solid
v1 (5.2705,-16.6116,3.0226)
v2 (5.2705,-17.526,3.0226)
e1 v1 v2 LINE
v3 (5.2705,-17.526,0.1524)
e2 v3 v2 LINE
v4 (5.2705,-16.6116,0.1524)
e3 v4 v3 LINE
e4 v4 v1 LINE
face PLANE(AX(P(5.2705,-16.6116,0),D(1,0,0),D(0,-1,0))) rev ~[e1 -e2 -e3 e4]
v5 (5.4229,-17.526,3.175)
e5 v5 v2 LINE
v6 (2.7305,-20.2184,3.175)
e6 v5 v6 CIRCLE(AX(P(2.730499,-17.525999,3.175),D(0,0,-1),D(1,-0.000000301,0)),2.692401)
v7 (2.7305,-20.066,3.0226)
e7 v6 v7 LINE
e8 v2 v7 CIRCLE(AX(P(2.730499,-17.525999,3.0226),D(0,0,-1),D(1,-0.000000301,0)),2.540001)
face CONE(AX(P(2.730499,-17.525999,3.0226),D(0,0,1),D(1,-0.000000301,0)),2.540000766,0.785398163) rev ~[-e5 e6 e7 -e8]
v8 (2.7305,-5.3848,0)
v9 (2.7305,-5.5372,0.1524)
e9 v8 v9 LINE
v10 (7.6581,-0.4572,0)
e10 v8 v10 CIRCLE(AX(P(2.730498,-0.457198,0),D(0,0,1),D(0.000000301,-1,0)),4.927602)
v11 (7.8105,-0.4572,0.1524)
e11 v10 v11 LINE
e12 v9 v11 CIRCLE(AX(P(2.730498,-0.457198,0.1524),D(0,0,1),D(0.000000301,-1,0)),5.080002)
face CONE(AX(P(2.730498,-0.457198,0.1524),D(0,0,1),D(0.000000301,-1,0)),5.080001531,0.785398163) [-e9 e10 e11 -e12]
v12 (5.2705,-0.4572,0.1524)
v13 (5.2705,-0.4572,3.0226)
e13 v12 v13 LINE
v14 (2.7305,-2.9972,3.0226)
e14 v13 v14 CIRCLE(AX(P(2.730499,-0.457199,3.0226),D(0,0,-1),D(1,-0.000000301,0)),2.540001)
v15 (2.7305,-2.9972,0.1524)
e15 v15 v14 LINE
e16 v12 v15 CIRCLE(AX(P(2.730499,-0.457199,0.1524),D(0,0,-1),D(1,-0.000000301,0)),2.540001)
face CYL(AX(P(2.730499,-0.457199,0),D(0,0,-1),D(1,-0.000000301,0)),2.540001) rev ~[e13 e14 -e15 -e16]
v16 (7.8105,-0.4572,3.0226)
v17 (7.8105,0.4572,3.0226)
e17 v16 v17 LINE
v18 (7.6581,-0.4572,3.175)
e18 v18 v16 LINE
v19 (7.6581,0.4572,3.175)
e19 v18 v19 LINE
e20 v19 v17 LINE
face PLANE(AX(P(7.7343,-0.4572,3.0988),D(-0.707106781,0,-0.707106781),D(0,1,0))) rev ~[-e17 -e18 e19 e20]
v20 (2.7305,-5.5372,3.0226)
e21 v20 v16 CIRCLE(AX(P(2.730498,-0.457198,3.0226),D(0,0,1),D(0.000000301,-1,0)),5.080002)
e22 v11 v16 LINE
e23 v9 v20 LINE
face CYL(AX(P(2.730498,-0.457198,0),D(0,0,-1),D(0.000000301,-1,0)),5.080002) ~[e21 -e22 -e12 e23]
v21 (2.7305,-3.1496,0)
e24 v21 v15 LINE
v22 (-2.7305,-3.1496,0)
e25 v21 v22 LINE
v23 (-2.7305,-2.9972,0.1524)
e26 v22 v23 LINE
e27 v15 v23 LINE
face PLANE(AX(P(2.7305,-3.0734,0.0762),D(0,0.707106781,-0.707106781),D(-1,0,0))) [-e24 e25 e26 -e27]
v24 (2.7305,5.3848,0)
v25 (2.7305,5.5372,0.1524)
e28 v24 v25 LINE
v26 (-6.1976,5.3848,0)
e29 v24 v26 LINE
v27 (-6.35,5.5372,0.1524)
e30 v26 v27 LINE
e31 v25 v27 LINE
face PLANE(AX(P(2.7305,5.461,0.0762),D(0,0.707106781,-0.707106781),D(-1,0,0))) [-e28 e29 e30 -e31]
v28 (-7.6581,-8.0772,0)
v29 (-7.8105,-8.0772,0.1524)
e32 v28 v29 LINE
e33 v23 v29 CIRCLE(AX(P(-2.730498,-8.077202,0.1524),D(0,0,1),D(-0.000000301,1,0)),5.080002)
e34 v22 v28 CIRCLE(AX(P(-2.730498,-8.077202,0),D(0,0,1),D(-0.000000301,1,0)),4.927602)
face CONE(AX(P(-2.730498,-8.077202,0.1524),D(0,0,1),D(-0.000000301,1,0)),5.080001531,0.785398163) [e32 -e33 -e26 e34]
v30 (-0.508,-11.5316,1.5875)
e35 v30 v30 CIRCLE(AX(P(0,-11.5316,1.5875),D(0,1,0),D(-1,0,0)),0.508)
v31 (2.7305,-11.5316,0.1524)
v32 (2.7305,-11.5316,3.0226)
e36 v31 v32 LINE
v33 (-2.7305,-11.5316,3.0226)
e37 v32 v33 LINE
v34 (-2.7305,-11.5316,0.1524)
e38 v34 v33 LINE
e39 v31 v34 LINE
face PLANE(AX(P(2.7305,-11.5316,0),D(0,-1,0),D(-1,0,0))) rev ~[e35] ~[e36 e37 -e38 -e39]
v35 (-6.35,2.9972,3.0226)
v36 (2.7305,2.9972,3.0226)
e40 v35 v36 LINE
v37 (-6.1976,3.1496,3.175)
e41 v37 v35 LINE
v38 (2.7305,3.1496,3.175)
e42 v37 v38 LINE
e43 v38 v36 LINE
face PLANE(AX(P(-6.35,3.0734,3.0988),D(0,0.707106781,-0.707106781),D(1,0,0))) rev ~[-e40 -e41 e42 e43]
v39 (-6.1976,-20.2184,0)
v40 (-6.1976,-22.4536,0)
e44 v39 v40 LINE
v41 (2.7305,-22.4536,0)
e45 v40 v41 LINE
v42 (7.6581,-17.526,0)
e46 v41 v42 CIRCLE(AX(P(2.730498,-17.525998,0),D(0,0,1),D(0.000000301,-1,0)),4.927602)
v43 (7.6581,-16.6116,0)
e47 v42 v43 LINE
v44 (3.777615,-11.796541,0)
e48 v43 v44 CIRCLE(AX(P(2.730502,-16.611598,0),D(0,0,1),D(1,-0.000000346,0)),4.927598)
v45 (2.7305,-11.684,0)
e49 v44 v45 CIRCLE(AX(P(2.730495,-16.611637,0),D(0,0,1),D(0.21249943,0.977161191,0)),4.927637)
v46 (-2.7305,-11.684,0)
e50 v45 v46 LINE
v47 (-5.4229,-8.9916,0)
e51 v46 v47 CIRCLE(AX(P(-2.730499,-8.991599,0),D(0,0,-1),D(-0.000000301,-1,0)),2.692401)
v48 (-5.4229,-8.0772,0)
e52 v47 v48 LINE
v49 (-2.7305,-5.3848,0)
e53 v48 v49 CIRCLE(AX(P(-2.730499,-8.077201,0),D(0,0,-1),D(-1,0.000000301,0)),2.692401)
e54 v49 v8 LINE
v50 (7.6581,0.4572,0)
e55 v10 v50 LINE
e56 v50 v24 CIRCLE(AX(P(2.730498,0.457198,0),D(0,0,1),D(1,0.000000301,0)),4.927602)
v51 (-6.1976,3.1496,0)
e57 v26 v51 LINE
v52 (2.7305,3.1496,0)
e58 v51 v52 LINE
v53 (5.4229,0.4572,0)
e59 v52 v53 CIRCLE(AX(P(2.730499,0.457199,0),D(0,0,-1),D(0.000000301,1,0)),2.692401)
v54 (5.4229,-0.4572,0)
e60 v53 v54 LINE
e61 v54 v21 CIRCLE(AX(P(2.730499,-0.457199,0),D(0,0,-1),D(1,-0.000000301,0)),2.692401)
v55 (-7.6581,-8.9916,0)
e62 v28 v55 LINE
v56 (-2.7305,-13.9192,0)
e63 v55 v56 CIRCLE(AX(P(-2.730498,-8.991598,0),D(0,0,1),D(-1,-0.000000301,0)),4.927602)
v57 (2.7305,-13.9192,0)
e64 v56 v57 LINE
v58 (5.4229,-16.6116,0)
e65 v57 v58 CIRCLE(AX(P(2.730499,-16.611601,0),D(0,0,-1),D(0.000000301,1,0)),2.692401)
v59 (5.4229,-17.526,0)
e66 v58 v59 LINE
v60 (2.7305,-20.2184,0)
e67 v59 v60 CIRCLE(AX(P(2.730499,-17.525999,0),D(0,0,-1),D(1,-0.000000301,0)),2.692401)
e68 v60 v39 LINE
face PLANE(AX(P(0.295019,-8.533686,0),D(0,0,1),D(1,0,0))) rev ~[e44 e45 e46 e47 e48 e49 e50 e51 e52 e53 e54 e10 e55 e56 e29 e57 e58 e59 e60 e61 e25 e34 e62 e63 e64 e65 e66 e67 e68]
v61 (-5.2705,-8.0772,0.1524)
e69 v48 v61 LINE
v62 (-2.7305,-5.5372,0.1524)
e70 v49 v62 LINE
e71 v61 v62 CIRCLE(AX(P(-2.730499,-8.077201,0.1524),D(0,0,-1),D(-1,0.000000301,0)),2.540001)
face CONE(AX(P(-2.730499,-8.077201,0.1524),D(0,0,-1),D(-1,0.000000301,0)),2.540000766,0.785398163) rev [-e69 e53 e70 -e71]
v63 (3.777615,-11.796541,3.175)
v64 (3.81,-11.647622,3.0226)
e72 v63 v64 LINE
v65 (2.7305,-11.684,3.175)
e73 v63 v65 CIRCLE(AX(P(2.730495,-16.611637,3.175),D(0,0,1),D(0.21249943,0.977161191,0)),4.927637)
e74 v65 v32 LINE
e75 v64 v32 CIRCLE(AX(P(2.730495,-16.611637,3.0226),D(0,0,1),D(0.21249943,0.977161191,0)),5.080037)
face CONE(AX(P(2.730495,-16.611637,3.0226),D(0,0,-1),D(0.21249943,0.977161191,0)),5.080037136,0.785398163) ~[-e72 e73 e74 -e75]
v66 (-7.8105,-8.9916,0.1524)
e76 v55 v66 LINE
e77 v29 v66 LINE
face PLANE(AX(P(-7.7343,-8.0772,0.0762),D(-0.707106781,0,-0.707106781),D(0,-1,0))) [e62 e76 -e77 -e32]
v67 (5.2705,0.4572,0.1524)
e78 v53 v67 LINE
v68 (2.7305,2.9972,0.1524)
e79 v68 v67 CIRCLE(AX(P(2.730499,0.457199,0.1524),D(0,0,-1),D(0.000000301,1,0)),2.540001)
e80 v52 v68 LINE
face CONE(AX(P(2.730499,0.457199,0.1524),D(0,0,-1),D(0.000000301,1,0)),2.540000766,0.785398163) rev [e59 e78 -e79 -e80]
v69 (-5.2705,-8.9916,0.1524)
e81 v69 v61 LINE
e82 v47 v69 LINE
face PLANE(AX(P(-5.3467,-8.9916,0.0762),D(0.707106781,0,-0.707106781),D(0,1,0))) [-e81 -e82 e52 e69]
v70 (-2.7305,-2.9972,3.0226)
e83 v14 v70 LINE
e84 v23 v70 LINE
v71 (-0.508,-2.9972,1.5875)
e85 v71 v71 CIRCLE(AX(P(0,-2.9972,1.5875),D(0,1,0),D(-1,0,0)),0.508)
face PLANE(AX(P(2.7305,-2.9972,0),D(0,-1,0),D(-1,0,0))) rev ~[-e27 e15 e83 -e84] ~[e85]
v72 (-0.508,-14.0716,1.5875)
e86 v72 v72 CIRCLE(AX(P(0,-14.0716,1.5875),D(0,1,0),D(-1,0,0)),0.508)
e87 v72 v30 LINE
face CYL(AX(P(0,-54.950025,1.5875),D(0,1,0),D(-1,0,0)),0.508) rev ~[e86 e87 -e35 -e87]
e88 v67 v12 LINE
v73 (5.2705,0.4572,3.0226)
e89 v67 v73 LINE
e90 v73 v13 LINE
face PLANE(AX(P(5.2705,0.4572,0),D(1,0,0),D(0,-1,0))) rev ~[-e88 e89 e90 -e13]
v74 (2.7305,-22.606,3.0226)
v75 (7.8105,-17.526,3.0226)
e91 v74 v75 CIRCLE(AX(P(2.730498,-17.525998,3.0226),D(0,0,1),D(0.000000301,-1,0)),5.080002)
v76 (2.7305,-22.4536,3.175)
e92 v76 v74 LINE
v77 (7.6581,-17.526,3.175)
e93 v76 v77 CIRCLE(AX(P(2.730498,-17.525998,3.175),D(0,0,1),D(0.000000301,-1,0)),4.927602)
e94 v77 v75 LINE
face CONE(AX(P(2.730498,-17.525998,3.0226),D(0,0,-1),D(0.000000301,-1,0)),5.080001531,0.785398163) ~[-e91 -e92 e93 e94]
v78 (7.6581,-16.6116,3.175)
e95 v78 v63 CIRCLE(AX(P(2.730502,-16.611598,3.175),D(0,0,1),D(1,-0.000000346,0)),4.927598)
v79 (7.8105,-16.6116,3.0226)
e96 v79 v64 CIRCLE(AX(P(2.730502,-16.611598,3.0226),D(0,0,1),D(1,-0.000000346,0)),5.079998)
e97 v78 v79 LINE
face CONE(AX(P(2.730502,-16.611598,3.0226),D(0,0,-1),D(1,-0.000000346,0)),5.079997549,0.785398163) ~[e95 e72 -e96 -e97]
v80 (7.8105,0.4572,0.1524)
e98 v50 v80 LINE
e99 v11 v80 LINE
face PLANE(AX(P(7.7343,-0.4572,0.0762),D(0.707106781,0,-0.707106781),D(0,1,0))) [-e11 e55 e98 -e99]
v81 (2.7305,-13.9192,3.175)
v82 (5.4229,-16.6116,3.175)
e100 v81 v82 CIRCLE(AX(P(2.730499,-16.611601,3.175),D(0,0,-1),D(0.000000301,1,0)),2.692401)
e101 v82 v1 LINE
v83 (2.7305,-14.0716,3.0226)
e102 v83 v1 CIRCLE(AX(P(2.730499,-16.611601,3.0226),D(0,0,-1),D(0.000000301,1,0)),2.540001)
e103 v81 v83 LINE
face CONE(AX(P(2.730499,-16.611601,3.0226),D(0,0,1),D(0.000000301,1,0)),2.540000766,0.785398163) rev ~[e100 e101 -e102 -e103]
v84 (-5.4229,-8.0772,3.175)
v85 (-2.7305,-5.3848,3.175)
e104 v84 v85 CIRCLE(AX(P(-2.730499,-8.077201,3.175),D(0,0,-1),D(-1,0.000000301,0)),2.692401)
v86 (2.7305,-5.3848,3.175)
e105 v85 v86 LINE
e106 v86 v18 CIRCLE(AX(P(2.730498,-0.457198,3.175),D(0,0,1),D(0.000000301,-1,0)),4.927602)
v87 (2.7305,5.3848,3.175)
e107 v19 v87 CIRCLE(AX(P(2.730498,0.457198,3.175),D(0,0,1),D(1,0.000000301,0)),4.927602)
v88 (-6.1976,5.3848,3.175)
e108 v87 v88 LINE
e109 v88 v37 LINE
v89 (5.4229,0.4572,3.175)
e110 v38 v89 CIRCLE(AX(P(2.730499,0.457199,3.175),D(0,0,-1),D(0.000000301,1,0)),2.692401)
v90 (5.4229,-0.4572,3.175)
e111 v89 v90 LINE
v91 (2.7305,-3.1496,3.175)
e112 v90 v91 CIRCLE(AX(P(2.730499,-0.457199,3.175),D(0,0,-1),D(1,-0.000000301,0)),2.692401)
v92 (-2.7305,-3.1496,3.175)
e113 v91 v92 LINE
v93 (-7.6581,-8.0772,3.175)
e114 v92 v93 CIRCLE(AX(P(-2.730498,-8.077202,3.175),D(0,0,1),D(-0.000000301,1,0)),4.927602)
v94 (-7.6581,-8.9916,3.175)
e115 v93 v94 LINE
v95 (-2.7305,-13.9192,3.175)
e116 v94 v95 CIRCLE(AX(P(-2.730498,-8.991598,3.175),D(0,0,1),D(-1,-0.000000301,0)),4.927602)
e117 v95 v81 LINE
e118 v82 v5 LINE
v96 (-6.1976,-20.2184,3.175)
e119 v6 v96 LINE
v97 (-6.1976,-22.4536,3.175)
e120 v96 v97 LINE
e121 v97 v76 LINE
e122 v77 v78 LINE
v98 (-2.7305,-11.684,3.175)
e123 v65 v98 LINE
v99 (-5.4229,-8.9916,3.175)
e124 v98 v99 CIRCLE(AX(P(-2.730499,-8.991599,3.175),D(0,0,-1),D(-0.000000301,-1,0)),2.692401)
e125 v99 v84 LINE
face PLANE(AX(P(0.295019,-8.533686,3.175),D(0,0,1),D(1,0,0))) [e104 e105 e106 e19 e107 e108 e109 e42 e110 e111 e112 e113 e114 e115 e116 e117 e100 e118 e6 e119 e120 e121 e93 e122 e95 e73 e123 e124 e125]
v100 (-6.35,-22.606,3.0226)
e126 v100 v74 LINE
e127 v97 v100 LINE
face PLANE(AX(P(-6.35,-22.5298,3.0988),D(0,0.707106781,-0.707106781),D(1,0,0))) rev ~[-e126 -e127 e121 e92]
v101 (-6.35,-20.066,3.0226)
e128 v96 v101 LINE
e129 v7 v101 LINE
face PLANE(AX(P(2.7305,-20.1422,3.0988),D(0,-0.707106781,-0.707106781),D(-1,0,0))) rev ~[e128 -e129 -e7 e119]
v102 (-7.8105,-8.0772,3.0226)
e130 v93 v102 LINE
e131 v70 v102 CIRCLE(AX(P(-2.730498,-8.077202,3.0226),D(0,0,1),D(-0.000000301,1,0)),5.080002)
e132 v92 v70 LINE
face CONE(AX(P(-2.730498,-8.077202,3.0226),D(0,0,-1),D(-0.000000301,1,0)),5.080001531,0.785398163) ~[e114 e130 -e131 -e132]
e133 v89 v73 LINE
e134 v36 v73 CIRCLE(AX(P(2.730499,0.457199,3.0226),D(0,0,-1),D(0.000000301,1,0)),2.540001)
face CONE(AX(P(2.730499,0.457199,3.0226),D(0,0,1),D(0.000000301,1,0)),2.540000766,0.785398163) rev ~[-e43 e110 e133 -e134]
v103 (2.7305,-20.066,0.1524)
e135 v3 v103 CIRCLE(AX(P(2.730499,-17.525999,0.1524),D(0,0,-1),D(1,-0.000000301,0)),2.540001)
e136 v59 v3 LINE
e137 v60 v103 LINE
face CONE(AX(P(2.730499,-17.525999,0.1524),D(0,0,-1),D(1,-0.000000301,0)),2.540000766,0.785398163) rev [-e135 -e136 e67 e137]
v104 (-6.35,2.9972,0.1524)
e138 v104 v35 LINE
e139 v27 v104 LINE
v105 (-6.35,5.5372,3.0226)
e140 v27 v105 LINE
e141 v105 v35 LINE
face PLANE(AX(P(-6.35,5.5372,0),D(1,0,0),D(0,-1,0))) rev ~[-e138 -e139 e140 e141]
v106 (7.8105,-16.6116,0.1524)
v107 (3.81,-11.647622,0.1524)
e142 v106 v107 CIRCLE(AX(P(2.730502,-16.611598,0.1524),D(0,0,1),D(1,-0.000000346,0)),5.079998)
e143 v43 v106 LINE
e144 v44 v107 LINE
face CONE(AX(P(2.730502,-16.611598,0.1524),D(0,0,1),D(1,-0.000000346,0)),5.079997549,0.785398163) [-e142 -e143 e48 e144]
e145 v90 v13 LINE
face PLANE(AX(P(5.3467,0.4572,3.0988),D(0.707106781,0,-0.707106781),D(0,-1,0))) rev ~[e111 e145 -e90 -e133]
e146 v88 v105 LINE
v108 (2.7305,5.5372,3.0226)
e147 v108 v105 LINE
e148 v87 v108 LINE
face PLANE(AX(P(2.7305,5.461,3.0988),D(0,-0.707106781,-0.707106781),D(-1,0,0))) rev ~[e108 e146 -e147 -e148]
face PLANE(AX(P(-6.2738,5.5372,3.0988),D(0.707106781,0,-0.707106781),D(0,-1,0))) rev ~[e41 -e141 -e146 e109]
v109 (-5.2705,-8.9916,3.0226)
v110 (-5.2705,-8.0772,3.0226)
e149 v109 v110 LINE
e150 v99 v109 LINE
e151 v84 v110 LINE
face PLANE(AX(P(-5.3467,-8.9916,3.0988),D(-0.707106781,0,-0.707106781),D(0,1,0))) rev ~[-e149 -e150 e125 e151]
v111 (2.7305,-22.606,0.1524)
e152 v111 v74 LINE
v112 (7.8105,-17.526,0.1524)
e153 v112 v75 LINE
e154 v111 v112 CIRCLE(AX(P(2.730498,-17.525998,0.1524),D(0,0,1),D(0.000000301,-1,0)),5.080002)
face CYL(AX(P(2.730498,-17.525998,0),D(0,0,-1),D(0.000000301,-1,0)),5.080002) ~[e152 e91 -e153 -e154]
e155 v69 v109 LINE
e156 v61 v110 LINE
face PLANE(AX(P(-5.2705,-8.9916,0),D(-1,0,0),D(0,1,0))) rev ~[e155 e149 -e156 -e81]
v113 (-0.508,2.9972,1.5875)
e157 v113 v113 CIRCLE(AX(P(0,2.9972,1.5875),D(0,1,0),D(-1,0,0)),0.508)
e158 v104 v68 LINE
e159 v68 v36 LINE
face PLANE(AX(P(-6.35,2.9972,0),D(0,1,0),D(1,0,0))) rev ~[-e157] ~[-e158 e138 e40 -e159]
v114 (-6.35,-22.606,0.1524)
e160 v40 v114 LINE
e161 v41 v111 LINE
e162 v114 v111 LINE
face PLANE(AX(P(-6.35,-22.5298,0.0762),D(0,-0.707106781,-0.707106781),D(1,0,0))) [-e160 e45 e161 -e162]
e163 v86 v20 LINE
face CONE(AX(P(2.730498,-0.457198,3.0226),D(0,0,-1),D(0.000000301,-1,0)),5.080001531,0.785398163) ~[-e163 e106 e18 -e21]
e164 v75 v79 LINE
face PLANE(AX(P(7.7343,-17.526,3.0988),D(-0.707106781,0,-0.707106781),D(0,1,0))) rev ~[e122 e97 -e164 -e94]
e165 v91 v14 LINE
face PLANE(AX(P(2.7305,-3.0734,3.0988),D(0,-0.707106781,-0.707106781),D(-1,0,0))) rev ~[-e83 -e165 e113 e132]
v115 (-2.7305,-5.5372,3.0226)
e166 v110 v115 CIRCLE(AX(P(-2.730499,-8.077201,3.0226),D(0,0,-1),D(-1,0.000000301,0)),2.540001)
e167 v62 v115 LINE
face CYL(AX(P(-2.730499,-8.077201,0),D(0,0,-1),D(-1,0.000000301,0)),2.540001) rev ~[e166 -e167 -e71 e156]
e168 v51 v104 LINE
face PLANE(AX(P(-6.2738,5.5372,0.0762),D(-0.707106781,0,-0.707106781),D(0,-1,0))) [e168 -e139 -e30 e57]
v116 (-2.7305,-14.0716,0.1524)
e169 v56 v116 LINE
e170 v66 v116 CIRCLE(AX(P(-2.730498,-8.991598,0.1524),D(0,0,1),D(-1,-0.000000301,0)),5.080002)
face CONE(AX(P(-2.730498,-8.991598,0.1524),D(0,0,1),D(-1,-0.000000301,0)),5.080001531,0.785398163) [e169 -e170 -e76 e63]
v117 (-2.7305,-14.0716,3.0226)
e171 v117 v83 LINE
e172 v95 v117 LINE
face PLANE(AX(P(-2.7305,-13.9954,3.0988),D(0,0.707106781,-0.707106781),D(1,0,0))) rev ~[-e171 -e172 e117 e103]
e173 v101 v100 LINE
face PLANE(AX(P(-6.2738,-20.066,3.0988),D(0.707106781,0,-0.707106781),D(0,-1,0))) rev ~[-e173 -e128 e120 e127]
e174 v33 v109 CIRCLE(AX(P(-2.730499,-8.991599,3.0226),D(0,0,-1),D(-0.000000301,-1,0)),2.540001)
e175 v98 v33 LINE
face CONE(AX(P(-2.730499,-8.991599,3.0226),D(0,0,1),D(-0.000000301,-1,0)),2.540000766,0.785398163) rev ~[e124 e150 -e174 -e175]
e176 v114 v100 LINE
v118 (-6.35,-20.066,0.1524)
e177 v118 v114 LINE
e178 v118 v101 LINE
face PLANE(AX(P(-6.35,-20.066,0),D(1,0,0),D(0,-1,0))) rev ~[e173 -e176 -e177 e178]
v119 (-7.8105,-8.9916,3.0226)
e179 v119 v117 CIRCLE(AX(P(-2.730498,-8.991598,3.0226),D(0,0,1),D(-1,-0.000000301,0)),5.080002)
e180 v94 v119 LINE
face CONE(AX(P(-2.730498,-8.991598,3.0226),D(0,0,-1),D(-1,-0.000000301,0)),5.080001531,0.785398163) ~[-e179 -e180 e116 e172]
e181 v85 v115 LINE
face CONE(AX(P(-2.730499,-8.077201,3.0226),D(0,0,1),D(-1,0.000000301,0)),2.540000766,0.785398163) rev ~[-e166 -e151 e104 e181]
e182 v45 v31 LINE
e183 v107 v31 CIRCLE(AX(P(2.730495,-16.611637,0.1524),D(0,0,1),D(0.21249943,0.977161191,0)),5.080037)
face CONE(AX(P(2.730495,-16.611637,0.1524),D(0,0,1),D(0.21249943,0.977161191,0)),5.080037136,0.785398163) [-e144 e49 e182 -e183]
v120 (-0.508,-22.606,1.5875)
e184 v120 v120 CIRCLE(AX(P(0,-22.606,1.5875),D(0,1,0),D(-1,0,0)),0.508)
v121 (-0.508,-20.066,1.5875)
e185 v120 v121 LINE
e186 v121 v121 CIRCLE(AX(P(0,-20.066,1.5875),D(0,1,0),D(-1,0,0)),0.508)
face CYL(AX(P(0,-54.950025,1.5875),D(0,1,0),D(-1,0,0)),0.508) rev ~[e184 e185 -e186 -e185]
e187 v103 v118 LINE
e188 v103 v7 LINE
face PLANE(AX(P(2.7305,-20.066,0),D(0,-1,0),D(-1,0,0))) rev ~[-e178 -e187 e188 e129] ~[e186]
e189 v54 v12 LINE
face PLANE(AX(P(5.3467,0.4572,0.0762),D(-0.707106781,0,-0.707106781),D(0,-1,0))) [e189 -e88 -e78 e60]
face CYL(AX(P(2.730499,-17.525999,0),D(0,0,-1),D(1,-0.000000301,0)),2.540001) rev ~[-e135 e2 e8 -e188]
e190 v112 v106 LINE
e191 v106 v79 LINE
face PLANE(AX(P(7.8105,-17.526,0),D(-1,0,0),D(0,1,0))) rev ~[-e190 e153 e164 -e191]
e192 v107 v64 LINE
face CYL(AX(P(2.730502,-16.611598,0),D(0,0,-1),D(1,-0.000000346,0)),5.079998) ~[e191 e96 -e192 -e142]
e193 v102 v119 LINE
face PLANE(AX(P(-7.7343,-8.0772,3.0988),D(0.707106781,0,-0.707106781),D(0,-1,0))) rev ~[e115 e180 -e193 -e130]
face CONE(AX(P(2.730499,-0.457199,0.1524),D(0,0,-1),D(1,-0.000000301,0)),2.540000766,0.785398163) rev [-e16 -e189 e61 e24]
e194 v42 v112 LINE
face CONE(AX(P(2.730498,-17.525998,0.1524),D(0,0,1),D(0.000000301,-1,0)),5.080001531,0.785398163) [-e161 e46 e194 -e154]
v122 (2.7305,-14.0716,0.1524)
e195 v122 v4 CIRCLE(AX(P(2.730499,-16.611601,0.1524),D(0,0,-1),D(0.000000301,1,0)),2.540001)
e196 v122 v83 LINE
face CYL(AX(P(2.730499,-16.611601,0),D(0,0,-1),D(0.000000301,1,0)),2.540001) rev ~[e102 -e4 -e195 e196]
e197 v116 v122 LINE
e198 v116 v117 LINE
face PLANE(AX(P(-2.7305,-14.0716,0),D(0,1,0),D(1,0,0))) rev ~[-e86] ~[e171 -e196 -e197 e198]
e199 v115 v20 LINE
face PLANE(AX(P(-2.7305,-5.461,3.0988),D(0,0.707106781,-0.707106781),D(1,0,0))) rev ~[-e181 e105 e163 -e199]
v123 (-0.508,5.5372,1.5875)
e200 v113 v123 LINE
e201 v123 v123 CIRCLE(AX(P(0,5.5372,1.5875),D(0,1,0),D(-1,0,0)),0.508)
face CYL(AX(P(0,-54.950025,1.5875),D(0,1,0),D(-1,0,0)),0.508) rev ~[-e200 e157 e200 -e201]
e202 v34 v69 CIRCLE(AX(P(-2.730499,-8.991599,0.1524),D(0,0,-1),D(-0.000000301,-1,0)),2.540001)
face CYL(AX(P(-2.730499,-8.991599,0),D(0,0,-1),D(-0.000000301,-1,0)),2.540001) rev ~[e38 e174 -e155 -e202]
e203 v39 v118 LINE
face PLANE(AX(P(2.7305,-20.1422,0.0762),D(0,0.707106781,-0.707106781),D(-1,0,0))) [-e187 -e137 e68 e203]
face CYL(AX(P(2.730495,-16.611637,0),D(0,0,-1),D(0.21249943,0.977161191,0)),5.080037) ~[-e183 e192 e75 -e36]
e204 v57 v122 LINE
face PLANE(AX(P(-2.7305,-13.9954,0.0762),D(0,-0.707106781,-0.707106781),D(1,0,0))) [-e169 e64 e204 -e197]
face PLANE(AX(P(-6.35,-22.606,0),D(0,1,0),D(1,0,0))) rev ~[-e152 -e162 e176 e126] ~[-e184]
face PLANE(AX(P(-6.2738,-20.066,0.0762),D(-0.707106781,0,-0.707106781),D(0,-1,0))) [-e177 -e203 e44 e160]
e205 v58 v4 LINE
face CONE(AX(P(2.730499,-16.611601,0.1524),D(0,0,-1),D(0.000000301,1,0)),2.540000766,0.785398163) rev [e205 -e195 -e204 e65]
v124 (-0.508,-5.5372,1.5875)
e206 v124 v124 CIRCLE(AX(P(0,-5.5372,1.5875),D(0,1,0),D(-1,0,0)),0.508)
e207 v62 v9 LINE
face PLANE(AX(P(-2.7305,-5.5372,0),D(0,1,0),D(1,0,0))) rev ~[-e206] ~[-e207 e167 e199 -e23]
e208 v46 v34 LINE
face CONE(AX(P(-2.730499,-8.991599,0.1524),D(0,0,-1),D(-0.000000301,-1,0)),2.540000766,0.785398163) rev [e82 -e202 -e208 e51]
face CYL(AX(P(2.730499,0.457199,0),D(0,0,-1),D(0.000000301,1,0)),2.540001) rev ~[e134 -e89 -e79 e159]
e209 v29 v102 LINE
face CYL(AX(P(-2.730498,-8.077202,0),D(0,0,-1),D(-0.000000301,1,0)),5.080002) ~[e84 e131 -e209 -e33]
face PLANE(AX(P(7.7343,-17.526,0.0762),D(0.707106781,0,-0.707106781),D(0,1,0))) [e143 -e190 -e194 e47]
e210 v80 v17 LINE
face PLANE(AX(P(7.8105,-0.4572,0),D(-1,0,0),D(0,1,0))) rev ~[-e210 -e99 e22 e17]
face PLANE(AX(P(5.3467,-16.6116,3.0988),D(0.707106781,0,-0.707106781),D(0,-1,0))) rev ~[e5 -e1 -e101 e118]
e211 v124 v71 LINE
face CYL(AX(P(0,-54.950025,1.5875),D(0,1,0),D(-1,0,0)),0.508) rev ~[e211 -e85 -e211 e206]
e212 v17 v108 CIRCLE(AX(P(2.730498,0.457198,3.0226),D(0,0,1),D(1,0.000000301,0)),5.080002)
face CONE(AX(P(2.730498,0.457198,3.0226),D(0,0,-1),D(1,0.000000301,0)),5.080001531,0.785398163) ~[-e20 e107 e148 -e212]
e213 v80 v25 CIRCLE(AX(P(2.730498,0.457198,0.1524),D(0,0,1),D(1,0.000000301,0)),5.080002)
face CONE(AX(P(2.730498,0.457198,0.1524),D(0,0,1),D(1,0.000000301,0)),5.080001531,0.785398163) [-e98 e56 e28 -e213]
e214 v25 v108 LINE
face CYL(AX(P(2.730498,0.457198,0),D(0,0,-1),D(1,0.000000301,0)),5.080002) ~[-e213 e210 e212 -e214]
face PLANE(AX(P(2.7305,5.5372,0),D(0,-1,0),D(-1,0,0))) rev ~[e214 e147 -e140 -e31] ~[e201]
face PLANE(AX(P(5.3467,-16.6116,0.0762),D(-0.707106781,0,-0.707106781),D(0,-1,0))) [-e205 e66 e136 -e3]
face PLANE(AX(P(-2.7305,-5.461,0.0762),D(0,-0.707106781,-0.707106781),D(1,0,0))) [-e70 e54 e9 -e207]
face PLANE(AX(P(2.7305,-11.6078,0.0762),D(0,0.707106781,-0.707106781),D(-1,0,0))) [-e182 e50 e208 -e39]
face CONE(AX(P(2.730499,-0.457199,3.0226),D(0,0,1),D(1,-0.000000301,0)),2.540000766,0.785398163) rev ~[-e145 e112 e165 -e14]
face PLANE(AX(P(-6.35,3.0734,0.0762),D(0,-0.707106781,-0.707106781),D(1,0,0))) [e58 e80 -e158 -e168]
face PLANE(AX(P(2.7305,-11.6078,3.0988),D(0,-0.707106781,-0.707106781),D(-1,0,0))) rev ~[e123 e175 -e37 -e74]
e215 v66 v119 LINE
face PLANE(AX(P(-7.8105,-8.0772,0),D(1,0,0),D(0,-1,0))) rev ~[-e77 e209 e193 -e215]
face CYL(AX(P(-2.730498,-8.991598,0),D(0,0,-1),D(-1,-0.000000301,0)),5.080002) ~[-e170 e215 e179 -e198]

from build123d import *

# Parameters (mm, degrees)
F1_DEPTH = 3.175
F4_D     = 1.016
F5_SIZE  = 0.1524


with BuildPart() as f1:
    # F0 (on Top) → F1 (new body)
    with BuildSketch(Plane.XY):
        with BuildLine():
            ThreePointArc((5.2705, -0.4572), (4.526551, -2.253251), (2.7305, -2.9972))
            Line((2.7305, -2.9972), (1.0795, -2.9972))
            Line((1.0795, -2.9972), (-1.0795, -2.9972))
            Line((-1.0795, -2.9972), (-2.7305, -2.9972))
            ThreePointArc((-2.7305, -2.9972), (-6.322602, -4.485098), (-7.8105, -8.0772))
            Line((-7.8105, -8.0772), (-7.8105, -8.9916))
            ThreePointArc((-7.8105, -8.9916), (-6.322602, -12.583702), (-2.7305, -14.0716))
            Line((-2.7305, -14.0716), (-1.0795, -14.0716))
            Line((-1.0795, -14.0716), (1.0795, -14.0716))
            Line((1.0795, -14.0716), (2.7305, -14.0716))
            ThreePointArc((2.7305, -14.0716), (4.526551, -14.815549), (5.2705, -16.6116))
            Line((5.2705, -16.6116), (5.2705, -17.526))
            ThreePointArc((5.2705, -17.526), (4.526551, -19.322051), (2.7305, -20.066))
            Line((2.7305, -20.066), (1.0795, -20.066))
            Line((1.0795, -20.066), (-1.0795, -20.066))
            Line((-1.0795, -20.066), (-6.35, -20.066))
            Line((-6.35, -20.066), (-6.35, -22.606))
            Line((-6.35, -22.606), (2.7305, -22.606))
            ThreePointArc((2.7305, -22.606), (6.322602, -21.118102), (7.8105, -17.526))
            Line((7.8105, -17.526), (7.8105, -16.6116))
            ThreePointArc((7.8105, -16.6116), (6.685893, -13.423925), (3.81, -11.647622))
            ThreePointArc((3.81, -11.647622), (3.273358, -11.560689), (2.7305, -11.5316))
            Line((2.7305, -11.5316), (1.0795, -11.5316))
            Line((1.0795, -11.5316), (-1.0795, -11.5316))
            Line((-1.0795, -11.5316), (-2.7305, -11.5316))
            ThreePointArc((-2.7305, -11.5316), (-4.526551, -10.787651), (-5.2705, -8.9916))
            Line((-5.2705, -8.9916), (-5.2705, -8.0772))
            ThreePointArc((-5.2705, -8.0772), (-4.526551, -6.281149), (-2.7305, -5.5372))
            Line((-2.7305, -5.5372), (-1.0795, -5.5372))
            Line((-1.0795, -5.5372), (1.0795, -5.5372))
            Line((1.0795, -5.5372), (2.7305, -5.5372))
            ThreePointArc((2.7305, -5.5372), (6.322602, -4.049302), (7.8105, -0.4572))
            Line((7.8105, -0.4572), (7.8105, 0.4572))
            ThreePointArc((7.8105, 0.4572), (6.322602, 4.049302), (2.7305, 5.5372))
            Line((2.7305, 5.5372), (-6.35, 5.5372))
            Line((-6.35, 5.5372), (-6.35, 2.9972))
            Line((-6.35, 2.9972), (-1.0795, 2.9972))
            Line((-1.0795, 2.9972), (1.0795, 2.9972))
            Line((1.0795, 2.9972), (2.7305, 2.9972))
            ThreePointArc((2.7305, 2.9972), (4.526551, 2.253251), (5.2705, 0.4572))
            Line((5.2705, 0.4572), (5.2705, -0.4572))
        make_face()
    extrude(amount=F1_DEPTH)

    # F4 (through all)
    with Locations(Plane.XZ.offset(22.606)):
        with Locations((0, 1.5875)):
            Hole(F4_D / 2)

    # F5
    f5_edges = [f1.edges().sort_by_distance(p)[0] for p in [
        (4.526551, 2.253251, 3.175),
        (5.2705, 0, 3.175),
        (4.526551, -2.253251, 3.175),
        (0, -2.9972, 3.175),
        (-6.322602, -4.485098, 3.175),
        (-7.8105, -8.5344, 3.175),
        (-6.322602, -12.583702, 3.175),
        (0, -14.0716, 3.175),
        (4.526551, -14.815549, 3.175),
        (5.2705, -17.0688, 3.175),
        (4.526551, -19.322051, 3.175),
        (-1.80975, -20.066, 3.175),
        (-6.35, -21.336, 3.175),
        (-1.80975, -22.606, 3.175),
        (6.322602, -21.118102, 3.175),
        (7.8105, -17.0688, 3.175),
        (6.322602, -13.019498, 3.175),
        (0, -11.5316, 3.175),
        (-4.526551, -10.787651, 3.175),
        (-5.2705, -8.5344, 3.175),
        (-4.526551, -6.281149, 3.175),
        (0, -5.5372, 3.175),
        (6.322602, -4.049302, 3.175),
        (7.8105, 0, 3.175),
        (6.322602, 4.049302, 3.175),
        (-1.80975, 5.5372, 3.175),
        (-6.35, 4.2672, 3.175),
        (-1.80975, 2.9972, 3.175),
        (4.526551, 2.253251, 0),
        (5.2705, 0, 0),
        (4.526551, -2.253251, 0),
        (0, -2.9972, 0),
        (-6.322602, -4.485098, 0),
        (-7.8105, -8.5344, 0),
        (-6.322602, -12.583702, 0),
        (0, -14.0716, 0),
        (4.526551, -14.815549, 0),
        (5.2705, -17.0688, 0),
        (4.526551, -19.322051, 0),
        (-1.80975, -20.066, 0),
        (-6.35, -21.336, 0),
        (-1.80975, -22.606, 0),
        (6.322602, -21.118102, 0),
        (7.8105, -17.0688, 0),
        (6.322602, -13.019498, 0),
        (0, -11.5316, 0),
        (-4.526551, -10.787651, 0),
        (-5.2705, -8.5344, 0),
        (-4.526551, -6.281149, 0),
        (0, -5.5372, 0),
        (6.322602, -4.049302, 0),
        (7.8105, 0, 0),
        (6.322602, 4.049302, 0),
        (-1.80975, 5.5372, 0),
        (-6.35, 4.2672, 0),
        (-1.80975, 2.9972, 0),
    ]]
    chamfer(f5_edges, length=F5_SIZE)


solid = f1.part
